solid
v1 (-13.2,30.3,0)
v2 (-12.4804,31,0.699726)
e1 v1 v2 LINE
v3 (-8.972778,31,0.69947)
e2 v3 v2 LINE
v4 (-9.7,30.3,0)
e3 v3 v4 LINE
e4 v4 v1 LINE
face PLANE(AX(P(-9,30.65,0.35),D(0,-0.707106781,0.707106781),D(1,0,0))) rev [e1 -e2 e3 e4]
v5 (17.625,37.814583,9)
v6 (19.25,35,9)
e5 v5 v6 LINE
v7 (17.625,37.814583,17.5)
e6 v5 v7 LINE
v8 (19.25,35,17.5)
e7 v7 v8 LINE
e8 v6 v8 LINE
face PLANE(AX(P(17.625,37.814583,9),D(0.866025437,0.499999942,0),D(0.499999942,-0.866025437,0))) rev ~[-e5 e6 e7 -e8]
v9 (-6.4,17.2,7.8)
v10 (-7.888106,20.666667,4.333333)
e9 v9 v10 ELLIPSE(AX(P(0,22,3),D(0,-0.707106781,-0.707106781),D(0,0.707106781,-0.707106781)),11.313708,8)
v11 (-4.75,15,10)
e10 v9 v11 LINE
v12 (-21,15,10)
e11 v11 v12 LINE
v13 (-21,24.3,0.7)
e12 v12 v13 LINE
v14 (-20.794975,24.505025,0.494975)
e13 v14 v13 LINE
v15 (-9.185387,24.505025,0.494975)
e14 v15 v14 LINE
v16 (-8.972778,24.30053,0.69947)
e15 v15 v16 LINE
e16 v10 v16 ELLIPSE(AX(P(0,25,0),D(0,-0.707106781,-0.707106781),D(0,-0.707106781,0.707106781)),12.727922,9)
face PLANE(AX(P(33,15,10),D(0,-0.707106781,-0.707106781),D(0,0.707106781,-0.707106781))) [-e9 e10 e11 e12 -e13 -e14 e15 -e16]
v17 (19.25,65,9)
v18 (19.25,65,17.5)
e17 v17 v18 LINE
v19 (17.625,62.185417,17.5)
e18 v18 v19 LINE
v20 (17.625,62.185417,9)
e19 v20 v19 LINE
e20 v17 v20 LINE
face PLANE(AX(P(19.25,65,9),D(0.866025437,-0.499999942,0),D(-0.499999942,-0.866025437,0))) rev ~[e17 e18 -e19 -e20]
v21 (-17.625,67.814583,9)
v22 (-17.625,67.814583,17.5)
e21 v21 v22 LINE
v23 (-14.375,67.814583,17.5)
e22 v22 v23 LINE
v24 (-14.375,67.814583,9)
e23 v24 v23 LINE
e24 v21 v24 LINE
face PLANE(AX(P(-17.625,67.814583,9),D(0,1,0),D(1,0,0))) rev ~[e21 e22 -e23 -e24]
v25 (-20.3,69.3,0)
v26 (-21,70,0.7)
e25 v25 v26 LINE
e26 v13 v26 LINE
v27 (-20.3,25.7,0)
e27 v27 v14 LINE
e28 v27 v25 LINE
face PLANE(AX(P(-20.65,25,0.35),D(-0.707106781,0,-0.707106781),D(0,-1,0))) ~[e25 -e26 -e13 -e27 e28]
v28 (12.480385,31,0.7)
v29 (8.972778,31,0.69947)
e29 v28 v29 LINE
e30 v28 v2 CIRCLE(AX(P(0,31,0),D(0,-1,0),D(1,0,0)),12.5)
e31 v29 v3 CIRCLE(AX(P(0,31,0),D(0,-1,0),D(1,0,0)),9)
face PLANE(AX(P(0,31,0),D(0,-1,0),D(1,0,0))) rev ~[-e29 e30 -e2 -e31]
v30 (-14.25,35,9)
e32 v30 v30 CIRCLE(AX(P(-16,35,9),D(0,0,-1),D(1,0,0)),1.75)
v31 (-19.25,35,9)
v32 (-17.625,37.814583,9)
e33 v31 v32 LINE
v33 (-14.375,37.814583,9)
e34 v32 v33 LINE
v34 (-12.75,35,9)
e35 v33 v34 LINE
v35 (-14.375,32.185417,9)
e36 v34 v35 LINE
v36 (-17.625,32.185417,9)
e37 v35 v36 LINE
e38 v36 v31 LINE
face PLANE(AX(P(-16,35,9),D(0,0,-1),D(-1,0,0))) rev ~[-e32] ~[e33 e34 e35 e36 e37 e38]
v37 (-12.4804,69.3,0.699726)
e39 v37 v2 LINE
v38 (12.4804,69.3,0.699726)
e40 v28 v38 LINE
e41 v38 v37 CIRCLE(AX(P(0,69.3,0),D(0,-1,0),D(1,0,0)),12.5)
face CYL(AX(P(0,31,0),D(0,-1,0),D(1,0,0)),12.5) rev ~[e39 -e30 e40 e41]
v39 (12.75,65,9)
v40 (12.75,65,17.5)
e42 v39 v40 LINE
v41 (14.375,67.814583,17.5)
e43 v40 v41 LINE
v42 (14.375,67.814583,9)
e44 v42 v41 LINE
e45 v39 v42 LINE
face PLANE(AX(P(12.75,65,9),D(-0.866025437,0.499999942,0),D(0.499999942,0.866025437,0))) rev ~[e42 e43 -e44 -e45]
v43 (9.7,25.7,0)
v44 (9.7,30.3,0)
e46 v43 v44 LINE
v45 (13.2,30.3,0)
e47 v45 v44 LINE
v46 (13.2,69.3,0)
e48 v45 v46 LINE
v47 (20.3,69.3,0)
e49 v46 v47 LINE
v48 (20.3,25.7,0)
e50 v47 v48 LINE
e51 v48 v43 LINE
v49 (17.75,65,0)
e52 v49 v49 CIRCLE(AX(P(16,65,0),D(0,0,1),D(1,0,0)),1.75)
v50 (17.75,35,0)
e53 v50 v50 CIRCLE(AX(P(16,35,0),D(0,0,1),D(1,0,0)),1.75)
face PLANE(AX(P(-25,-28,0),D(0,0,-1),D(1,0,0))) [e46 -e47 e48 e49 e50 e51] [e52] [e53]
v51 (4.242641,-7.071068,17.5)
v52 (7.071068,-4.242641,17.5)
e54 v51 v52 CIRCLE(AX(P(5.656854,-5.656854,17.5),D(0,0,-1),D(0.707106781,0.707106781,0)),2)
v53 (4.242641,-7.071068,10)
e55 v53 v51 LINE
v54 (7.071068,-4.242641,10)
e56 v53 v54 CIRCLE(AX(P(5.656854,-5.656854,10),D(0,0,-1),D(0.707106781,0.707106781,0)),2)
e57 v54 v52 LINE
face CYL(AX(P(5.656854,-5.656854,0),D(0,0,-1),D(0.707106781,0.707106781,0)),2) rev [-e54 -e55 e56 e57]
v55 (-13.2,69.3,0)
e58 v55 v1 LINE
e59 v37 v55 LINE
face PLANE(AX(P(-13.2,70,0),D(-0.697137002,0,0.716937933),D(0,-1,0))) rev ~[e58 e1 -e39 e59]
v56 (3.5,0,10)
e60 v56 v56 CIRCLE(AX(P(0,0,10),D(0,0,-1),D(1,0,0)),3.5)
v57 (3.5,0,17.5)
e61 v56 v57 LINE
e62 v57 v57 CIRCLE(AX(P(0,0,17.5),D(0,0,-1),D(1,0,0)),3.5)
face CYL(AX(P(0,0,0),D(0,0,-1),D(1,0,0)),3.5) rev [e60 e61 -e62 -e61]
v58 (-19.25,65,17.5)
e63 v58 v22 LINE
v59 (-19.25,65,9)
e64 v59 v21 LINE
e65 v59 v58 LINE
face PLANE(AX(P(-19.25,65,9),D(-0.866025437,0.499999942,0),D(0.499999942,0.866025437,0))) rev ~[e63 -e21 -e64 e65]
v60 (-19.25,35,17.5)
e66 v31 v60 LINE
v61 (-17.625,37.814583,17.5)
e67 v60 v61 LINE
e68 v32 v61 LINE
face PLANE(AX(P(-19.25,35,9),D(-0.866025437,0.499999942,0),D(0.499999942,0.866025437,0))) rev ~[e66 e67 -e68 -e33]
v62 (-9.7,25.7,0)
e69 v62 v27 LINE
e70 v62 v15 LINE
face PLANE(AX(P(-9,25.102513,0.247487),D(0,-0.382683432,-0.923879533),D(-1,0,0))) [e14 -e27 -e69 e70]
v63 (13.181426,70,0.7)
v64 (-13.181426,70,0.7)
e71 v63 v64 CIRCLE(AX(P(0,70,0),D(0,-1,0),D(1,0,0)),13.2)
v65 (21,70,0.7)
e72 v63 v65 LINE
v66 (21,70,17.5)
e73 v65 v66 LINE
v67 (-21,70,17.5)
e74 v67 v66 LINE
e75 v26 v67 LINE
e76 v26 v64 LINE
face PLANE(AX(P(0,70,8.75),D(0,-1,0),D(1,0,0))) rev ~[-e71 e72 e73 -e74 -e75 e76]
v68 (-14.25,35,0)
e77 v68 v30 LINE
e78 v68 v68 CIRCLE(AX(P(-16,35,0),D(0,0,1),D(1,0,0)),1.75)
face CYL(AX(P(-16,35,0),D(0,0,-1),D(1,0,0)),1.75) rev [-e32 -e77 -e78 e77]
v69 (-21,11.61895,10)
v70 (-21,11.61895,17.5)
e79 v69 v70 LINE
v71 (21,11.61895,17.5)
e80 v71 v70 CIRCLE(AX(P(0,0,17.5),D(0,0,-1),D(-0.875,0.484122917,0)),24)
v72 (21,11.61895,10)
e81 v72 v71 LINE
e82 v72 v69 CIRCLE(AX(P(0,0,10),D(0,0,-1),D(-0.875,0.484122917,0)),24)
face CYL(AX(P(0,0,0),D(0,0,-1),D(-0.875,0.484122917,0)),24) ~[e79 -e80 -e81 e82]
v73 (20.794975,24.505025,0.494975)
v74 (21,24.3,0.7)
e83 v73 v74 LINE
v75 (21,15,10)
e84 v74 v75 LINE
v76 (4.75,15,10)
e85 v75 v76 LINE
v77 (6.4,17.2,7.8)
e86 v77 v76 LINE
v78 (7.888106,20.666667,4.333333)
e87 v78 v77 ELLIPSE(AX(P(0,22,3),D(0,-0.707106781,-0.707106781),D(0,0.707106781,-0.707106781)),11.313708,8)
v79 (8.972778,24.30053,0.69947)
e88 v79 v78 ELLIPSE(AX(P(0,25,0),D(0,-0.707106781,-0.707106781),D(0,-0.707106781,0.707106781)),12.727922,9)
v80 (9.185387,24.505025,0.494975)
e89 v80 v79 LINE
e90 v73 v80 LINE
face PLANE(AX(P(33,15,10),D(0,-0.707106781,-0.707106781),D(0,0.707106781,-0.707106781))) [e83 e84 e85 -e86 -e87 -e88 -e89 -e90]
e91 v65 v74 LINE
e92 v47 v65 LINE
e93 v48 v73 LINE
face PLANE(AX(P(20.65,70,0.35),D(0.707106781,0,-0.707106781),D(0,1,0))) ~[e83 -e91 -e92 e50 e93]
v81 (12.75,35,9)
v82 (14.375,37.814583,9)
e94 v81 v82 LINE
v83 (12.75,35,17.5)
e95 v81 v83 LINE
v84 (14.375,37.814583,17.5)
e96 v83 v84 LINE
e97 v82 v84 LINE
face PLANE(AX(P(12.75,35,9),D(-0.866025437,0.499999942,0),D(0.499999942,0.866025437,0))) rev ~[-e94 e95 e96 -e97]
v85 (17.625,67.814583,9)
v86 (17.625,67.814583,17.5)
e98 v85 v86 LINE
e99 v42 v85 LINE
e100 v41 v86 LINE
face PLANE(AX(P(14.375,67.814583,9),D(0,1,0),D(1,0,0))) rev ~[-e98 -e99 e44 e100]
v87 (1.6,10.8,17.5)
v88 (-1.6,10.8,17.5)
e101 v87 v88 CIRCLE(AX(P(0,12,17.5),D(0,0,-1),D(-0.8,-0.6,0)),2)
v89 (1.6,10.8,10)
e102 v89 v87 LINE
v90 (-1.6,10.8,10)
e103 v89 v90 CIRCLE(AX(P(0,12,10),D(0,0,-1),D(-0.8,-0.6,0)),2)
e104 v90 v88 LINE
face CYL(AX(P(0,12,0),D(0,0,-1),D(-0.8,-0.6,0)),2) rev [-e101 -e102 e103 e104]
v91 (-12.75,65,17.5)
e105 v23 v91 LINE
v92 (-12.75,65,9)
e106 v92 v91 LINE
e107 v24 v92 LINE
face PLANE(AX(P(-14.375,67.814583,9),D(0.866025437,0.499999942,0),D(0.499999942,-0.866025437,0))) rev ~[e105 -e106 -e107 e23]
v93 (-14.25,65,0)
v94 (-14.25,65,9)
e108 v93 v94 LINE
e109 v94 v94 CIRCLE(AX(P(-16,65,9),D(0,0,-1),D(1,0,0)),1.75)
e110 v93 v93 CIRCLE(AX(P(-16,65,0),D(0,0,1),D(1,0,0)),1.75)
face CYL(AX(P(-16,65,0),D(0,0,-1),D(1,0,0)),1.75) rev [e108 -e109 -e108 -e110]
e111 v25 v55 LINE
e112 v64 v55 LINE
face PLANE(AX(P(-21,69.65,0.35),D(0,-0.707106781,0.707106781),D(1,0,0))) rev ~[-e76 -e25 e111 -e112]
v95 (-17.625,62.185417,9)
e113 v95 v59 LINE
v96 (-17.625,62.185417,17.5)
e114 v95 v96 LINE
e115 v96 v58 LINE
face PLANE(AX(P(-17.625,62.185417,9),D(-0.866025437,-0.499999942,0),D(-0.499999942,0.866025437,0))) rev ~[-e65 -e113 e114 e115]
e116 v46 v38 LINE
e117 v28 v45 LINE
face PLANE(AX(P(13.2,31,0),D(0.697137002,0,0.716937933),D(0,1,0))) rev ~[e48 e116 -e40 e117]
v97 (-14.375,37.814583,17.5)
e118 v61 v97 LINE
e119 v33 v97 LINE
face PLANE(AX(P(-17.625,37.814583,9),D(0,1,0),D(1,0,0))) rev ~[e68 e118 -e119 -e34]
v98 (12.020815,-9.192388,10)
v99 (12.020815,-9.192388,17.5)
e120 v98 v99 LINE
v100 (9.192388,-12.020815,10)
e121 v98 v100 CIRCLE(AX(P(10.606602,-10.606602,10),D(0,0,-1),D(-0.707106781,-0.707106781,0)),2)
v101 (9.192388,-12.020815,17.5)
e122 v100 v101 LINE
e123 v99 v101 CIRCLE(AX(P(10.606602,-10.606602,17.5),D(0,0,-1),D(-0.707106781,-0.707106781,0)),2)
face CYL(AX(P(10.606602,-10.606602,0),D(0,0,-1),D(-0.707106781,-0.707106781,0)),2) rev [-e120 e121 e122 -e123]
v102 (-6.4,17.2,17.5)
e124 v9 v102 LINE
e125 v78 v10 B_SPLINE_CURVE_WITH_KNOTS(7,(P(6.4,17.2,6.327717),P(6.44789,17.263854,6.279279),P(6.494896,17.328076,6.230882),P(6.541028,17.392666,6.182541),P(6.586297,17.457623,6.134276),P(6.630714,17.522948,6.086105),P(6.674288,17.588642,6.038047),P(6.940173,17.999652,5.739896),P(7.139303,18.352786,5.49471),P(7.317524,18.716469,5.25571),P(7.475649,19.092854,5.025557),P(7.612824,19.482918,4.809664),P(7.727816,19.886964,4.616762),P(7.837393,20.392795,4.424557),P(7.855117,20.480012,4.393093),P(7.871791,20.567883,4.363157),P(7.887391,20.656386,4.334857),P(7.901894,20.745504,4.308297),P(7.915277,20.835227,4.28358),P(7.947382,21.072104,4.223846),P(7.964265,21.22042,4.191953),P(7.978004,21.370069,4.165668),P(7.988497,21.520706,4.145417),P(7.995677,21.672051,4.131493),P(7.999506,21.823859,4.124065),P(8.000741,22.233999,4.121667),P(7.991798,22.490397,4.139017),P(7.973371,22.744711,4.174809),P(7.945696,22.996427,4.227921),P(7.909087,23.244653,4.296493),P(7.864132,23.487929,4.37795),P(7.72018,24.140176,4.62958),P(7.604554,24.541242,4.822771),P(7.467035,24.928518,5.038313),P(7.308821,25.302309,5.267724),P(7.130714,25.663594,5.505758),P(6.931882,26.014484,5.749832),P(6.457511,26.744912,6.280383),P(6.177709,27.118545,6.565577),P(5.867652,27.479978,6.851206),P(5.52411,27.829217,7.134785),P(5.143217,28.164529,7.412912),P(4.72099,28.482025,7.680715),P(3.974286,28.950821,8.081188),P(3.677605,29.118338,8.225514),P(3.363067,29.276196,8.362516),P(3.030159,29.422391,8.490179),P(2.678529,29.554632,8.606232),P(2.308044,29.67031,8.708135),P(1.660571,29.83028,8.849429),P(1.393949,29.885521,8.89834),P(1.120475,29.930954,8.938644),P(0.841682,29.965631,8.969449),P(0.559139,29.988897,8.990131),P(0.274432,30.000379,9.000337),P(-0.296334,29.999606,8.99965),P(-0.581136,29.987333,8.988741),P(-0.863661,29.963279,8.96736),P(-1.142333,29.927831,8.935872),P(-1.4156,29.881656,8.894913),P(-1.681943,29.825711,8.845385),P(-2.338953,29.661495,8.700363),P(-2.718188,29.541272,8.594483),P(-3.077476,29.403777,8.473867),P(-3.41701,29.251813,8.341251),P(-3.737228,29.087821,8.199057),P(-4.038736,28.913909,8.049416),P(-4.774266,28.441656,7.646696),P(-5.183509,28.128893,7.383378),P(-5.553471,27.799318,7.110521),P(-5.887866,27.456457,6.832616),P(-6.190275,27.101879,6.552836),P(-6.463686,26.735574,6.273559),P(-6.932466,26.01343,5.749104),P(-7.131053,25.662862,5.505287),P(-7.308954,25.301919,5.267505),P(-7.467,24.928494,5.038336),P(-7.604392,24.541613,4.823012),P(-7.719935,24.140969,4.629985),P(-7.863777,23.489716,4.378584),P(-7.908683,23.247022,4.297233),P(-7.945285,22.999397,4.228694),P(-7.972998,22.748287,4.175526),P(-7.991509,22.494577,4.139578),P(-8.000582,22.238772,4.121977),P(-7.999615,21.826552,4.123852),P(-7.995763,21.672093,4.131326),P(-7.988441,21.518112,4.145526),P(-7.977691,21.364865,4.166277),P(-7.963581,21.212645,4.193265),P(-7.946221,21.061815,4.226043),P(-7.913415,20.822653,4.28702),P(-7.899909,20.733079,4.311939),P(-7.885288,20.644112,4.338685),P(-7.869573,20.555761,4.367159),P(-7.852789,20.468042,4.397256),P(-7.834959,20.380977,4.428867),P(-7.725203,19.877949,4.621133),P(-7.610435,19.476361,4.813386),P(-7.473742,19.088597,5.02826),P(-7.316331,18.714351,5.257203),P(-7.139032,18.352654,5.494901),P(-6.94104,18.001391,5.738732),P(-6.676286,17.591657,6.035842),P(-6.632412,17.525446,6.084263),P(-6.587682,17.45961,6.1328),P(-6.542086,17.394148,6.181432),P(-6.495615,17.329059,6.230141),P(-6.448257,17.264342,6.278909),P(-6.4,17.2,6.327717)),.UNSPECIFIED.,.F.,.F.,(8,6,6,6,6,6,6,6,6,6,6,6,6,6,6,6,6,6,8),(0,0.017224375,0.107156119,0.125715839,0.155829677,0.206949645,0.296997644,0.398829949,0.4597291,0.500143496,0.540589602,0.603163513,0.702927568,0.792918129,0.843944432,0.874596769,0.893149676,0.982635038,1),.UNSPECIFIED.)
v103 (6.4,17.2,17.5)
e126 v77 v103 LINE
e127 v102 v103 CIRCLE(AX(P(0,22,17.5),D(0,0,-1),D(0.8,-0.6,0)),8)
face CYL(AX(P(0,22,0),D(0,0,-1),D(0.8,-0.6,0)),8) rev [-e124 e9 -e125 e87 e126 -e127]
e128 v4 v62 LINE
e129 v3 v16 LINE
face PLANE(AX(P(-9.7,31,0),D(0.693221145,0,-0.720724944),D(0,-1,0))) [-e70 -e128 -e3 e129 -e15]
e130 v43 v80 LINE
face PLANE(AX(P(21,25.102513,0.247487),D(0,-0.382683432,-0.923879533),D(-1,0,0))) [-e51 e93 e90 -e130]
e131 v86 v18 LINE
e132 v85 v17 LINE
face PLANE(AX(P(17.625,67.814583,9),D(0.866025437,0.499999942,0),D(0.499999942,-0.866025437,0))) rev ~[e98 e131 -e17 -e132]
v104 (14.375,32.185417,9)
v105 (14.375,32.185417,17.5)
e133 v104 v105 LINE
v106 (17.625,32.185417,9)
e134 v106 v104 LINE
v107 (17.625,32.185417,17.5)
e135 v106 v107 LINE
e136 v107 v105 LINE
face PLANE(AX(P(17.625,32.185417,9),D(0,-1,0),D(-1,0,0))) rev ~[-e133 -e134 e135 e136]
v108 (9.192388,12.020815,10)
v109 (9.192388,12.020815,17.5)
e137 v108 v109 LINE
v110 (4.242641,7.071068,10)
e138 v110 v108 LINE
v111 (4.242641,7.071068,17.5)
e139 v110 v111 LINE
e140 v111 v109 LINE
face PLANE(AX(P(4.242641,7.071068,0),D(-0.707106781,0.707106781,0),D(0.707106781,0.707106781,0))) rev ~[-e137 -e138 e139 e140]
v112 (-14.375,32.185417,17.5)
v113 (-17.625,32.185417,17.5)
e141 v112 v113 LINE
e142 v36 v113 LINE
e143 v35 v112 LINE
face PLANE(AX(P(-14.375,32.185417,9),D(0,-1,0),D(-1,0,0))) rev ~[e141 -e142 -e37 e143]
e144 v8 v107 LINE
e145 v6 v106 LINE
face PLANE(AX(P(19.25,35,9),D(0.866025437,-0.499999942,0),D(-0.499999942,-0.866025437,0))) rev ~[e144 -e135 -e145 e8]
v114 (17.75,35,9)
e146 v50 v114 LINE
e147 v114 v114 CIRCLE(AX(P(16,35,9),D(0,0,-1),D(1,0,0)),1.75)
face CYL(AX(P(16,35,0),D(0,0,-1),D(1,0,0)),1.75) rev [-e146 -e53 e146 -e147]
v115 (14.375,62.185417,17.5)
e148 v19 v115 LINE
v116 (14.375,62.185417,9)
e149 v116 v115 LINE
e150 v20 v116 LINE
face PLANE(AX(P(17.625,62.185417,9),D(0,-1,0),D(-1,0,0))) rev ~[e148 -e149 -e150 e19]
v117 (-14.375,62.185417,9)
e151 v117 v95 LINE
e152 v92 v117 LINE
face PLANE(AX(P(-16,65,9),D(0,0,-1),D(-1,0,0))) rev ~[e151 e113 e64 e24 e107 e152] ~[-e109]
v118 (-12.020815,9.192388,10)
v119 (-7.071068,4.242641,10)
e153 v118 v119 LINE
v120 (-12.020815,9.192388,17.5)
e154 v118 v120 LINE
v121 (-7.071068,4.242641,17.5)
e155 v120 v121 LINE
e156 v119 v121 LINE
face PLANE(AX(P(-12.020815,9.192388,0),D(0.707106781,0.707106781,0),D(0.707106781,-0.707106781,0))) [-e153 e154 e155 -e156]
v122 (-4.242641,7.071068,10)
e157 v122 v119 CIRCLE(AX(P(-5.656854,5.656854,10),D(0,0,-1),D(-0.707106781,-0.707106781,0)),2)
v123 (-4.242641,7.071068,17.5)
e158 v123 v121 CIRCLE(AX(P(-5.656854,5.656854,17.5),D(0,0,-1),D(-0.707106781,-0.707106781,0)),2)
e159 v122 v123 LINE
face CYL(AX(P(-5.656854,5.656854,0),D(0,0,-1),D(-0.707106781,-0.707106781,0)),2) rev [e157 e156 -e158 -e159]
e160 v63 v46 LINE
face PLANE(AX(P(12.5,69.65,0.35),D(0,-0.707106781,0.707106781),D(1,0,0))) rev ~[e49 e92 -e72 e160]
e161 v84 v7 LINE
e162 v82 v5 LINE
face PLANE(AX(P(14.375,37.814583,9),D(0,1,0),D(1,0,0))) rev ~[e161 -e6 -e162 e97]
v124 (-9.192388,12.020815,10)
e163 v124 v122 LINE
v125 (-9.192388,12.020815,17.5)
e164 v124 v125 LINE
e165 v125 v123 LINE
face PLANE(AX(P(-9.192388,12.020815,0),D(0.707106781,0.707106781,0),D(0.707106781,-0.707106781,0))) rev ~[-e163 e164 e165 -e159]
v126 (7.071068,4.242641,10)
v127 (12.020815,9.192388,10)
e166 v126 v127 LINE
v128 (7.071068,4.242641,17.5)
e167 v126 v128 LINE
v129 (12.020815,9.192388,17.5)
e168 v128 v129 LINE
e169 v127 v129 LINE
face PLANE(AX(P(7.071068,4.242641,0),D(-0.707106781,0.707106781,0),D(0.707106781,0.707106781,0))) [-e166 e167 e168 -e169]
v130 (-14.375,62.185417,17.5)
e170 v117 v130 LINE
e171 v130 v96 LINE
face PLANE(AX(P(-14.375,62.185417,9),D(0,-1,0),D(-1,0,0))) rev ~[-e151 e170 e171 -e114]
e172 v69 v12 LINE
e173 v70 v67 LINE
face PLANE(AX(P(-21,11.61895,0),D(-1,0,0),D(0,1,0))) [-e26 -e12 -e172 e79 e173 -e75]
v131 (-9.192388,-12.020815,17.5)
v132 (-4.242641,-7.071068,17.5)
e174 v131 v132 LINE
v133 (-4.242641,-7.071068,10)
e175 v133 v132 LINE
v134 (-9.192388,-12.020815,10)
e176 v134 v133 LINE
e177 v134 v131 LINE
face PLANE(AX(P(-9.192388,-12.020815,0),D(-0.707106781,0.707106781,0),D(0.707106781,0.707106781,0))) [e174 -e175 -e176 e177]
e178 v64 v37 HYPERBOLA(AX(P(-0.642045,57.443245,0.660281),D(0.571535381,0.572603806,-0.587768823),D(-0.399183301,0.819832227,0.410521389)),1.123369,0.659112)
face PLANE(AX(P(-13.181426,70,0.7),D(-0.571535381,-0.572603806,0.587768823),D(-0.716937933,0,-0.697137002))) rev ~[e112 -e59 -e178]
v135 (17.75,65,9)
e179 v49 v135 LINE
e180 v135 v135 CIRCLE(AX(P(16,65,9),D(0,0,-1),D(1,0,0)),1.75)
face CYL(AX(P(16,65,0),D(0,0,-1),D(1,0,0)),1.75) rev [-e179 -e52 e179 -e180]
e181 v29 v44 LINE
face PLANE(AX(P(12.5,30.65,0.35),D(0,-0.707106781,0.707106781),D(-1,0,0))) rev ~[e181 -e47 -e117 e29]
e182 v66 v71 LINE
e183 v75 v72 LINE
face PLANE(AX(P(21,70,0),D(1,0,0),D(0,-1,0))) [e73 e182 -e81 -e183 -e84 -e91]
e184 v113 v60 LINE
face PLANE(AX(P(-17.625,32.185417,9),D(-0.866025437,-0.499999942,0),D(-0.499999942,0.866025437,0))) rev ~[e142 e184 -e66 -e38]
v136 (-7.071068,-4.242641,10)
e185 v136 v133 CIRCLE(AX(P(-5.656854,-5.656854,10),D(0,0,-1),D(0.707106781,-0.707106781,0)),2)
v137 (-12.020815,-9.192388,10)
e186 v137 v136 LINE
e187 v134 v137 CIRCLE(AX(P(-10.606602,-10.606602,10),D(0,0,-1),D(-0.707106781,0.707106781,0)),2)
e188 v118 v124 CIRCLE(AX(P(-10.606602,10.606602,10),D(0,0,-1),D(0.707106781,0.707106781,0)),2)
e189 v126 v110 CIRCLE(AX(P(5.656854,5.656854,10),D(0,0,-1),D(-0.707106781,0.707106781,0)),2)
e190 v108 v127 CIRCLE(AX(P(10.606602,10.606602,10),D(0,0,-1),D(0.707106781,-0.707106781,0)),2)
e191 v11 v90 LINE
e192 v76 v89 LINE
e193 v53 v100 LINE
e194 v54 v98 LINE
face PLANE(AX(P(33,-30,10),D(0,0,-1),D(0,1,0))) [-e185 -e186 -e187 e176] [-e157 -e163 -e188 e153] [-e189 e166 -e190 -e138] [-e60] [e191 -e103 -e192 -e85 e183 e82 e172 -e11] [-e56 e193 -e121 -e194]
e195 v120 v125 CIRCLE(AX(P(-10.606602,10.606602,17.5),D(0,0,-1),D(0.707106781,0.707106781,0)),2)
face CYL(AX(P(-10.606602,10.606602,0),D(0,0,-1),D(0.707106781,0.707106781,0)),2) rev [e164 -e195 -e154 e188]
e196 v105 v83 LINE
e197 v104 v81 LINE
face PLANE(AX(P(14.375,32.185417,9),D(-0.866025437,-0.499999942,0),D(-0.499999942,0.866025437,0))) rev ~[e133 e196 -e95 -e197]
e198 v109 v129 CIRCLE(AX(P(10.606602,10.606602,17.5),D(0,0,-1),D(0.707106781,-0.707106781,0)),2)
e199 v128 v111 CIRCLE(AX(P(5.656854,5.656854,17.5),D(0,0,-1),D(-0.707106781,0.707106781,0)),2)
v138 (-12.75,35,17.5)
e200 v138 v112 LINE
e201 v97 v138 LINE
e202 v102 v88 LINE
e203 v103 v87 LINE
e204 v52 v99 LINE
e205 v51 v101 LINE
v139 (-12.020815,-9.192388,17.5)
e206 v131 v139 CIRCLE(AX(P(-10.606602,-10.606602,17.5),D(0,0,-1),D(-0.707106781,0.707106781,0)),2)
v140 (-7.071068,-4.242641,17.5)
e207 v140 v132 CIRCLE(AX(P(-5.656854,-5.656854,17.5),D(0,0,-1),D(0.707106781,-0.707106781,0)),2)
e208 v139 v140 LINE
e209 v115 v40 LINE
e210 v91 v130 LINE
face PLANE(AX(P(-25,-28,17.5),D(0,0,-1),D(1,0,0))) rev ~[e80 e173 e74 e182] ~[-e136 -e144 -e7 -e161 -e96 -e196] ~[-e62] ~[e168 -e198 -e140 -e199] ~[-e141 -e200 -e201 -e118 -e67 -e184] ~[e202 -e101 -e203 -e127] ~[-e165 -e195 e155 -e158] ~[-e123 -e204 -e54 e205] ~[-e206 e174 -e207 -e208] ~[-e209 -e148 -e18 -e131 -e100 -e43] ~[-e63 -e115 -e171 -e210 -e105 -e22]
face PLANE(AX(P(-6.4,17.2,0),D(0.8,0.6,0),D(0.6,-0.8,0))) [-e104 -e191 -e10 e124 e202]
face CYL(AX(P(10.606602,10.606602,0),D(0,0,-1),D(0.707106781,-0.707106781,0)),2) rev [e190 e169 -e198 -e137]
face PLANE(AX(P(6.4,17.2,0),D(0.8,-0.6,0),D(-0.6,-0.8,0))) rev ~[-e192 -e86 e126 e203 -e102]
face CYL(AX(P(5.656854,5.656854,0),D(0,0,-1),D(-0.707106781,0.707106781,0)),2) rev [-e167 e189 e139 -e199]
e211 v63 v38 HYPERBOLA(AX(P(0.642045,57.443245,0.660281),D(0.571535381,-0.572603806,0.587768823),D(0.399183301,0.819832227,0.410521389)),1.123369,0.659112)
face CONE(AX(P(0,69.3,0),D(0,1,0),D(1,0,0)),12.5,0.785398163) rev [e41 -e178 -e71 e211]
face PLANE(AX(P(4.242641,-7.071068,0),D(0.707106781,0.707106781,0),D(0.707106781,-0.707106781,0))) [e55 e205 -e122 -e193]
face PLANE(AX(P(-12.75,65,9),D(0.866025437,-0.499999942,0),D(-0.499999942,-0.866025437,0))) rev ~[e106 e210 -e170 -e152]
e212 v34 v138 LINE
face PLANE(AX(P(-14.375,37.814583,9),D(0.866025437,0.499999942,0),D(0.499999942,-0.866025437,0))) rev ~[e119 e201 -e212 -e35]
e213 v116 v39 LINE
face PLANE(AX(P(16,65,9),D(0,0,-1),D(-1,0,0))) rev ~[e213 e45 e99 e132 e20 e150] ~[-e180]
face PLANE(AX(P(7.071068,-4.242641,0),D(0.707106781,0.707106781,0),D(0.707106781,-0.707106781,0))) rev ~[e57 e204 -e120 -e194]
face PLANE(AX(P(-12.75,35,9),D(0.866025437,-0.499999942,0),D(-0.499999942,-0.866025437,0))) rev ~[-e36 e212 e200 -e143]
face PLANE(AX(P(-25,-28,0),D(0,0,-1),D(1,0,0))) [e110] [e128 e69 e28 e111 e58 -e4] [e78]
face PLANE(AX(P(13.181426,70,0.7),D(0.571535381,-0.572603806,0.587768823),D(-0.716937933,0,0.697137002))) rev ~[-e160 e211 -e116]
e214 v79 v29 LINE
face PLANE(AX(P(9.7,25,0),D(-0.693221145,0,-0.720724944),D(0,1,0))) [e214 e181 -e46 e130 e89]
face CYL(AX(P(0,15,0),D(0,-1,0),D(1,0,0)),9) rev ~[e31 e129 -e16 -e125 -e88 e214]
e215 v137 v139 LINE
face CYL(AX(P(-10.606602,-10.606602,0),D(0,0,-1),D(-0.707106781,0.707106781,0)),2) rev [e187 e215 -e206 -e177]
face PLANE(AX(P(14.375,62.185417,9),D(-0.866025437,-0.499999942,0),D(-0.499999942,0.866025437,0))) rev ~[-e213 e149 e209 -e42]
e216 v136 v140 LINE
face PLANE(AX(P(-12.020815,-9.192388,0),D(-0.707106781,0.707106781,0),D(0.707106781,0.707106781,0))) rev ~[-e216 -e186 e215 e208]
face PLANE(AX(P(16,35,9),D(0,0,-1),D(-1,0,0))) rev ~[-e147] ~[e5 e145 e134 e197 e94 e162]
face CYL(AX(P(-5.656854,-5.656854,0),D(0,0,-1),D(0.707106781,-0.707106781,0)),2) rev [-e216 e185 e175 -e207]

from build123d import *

# Parameters (mm, degrees)
EXTRUDE006_DEPTH                     = 10
SKETCH006_AS_DRAWN_R                 = 9
EXTRUDE005_DEPTH                     = 27
EXTRUDE005_ONTO_SKETCH006_ROLL_ANGLE = 90
SKETCH_R                             = 3.5
SKETCH_R_2                           = 1.75
EXTRUDE_DEPTH                        = 30
SKETCH001_AS_DRAWN_R                 = 12.5
EXTRUDE004_DEPTH                     = 50
EXTRUDE004_ONTO_SKETCH001_ROLL_ANGLE = 90
EXTRUDE002_DEPTH                     = 60
SKETCH003_AS_DRAWN_W                 = 50
SKETCH003_AS_DRAWN_H                 = 17.5
EXTRUDE003_DEPTH                     = 98
EXTRUDE003_ONTO_SKETCH003_ROLL_ANGLE = 90
CHAMFER_SIZE                         = 0.7


with BuildPart() as extrude006:
    # Sketch008 → Extrude006 (new body)
    with BuildSketch(Plane(origin=(0, 40, 0), x_dir=(1, 0, 0), z_dir=(0, 0, 1))):
        Polygon((-17.625, -2.185417), (-14.375, -2.185417), (-12.75, -5), (-14.375, -7.814583), (-17.625, -7.814583), (-19.25, -5), align=None)
        Polygon((14.375, -2.185417), (17.625, -2.185417), (19.25, -5), (17.625, -7.814583), (14.375, -7.814583), (12.75, -5), align=None)
        Polygon((14.375, 27.814583), (17.625, 27.814583), (19.25, 25), (17.625, 22.185417), (14.375, 22.185417), (12.75, 25), align=None)
        Polygon((-17.625, 27.814583), (-14.375, 27.814583), (-12.75, 25), (-14.375, 22.185417), (-17.625, 22.185417), (-19.25, 25), align=None)
    extrude(amount=EXTRUDE006_DEPTH)


with BuildPart() as extrude006_1:
    # Extrude006 placement: moved
    add(extrude006.part.moved(Location((0, 0, 9))))


with BuildPart() as extrude005:
    # Sketch006 as drawn → Extrude005 (new)
    with BuildSketch(Plane.XY):
        Circle(SKETCH006_AS_DRAWN_R)
    extrude(amount=-EXTRUDE005_DEPTH)


with BuildPart() as extrude005_1:
    # Extrude005 onto Sketch006 roll: moved
    add(extrude005.part.rotate(Axis((0, 0, 0), (1, 0, 0)), EXTRUDE005_ONTO_SKETCH006_ROLL_ANGLE))


with BuildPart() as extrude005_2:
    # Extrude005 onto Sketch006 placement: moved
    add(extrude005_1.part.moved(Location((0, 33, 0))))


with BuildPart() as extrude005_3:
    # Extrude005 placement: moved
    add(extrude005_2.part.moved(Location((0, -18, 0))))


with BuildPart() as extrude_body:
    # Sketch → Extrude (new body)
    with BuildSketch(Plane.XY):
        Circle(SKETCH_R)
        with Locations((-16, 35)):
            Circle(SKETCH_R_2)
        with Locations((-16, 65)):
            Circle(SKETCH_R_2)
        with Locations((16, 65)):
            Circle(SKETCH_R_2)
        with Locations((16, 35)):
            Circle(SKETCH_R_2)
        with BuildLine():
            ThreePointArc((-12.020815, -9.192388), (-12.020815, -12.020815), (-9.192388, -12.020815))
            Line((-9.192388, -12.020815), (-4.242641, -7.071068))
            ThreePointArc((-4.242641, -7.071068), (-4.242641, -4.242641), (-7.071068, -4.242641))
            Line((-12.020815, -9.192388), (-7.071068, -4.242641))
        make_face()
        with BuildLine():
            ThreePointArc((7.071068, -4.242641), (4.242641, -4.242641), (4.242641, -7.071068))
            Line((4.242641, -7.071068), (9.192388, -12.020815))
            ThreePointArc((9.192388, -12.020815), (12.020815, -12.020815), (12.020815, -9.192388))
            Line((7.071068, -4.242641), (12.020815, -9.192388))
        make_face()
        with BuildLine():
            ThreePointArc((4.242641, 7.071068), (4.242641, 4.242641), (7.071068, 4.242641))
            Line((7.071068, 4.242641), (12.020815, 9.192388))
            ThreePointArc((12.020815, 9.192388), (12.020815, 12.020815), (9.192388, 12.020815))
            Line((4.242641, 7.071068), (9.192388, 12.020815))
        make_face()
        with BuildLine():
            ThreePointArc((-9.192388, 12.020815), (-12.020815, 12.020815), (-12.020815, 9.192388))
            Line((-12.020815, 9.192388), (-7.071068, 4.242641))
            ThreePointArc((-7.071068, 4.242641), (-4.242641, 4.242641), (-4.242641, 7.071068))
            Line((-9.192388, 12.020815), (-4.242641, 7.071068))
        make_face()
        with BuildLine():
            ThreePointArc((6.4, 17.2), (0, 30), (-6.4, 17.2))
            Line((-6.4, 17.2), (-1.6, 10.8))
            ThreePointArc((-1.6, 10.8), (0, 10), (1.6, 10.8))
            Line((6.4, 17.2), (1.6, 10.8))
        make_face()
        with BuildLine():
            ThreePointArc((-21, 11.61895), (0, -24), (21, 11.61895))
            Line((21, 70), (21, 11.61895))
            Line((30, 70), (21, 70))
            Line((30, -30), (30, 70))
            Line((-30, -30), (30, -30))
            Line((-30, 70), (-30, -30))
            Line((-21, 70), (-30, 70))
            Line((-21, 11.61895), (-21, 70))
        make_face()
    extrude(amount=EXTRUDE_DEPTH)


with BuildPart() as extrude004:
    # Sketch001 as drawn → Extrude004 (new)
    with BuildSketch(Plane.XY):
        Circle(SKETCH001_AS_DRAWN_R)
    extrude(amount=-EXTRUDE004_DEPTH)


with BuildPart() as extrude004_1:
    # Extrude004 onto Sketch001 roll: moved
    add(extrude004.part.rotate(Axis((0, 0, 0), (1, 0, 0)), EXTRUDE004_ONTO_SKETCH001_ROLL_ANGLE))


with BuildPart() as extrude004_2:
    # Extrude004 onto Sketch001 placement: moved
    add(extrude004_1.part.moved(Location((0, 32, 0))))


with BuildPart() as extrude004_3:
    # Extrude004 placement: moved
    add(extrude004_2.part.moved(Location((0, -1, 0))))


with BuildPart() as extrude002:
    # Sketch002 → Extrude002 (new body)
    with BuildSketch(Plane.YZ.offset(33)):
        Polygon((-30, 10), (15, 10), (25, 0), (-30, 0), align=None)
    extrude(amount=-EXTRUDE002_DEPTH)


with BuildPart() as chamfer_body:
    # Sketch003 as drawn → Extrude003 (new)
    with BuildSketch(Plane.XY):
        with Locations((0, 8.75)):
            Rectangle(SKETCH003_AS_DRAWN_W, SKETCH003_AS_DRAWN_H)
    extrude(amount=-EXTRUDE003_DEPTH)


with BuildPart() as chamfer_body_1:
    # Extrude003 onto Sketch003 roll: moved
    add(chamfer_body.part.rotate(Axis((0, 0, 0), (1, 0, 0)), EXTRUDE003_ONTO_SKETCH003_ROLL_ANGLE))


with BuildPart() as chamfer_body_2:
    # Extrude003 onto Sketch003 placement: moved
    add(chamfer_body_1.part.moved(Location((0, -28, 0))))

    # Cut: cut Extrude002
    add(extrude002.part, mode=Mode.SUBTRACT)

    # Cut001: cut Extrude004
    add(extrude004_3.part, mode=Mode.SUBTRACT)

    # Cut002: cut Extrude body
    add(extrude_body.part, mode=Mode.SUBTRACT)

    # Cut003: cut Extrude005
    add(extrude005_3.part, mode=Mode.SUBTRACT)

    # Cut004: cut Extrude006
    add(extrude006_1.part, mode=Mode.SUBTRACT)

    # Chamfer
    chamfer_edges = [chamfer_body_2.edges().sort_by_distance(p)[0] for p in [
        (-21, 47.5, 0),
        (16.75, 70, 0),
        (0, 70, 12.5),
        (-16.75, 70, 0),
        (21, 47.5, 0),
        (-15, 25, 0),
        (-9, 28, 0),
        (-12.5, 50.5, 0),
        (-10.75, 31, 0),
        (15, 25, 0),
        (9, 28, 0),
        (10.75, 31, 0),
        (12.5, 50.5, 0),
    ]]
    chamfer(chamfer_edges, length=CHAMFER_SIZE)


solid = chamfer_body_2.part
